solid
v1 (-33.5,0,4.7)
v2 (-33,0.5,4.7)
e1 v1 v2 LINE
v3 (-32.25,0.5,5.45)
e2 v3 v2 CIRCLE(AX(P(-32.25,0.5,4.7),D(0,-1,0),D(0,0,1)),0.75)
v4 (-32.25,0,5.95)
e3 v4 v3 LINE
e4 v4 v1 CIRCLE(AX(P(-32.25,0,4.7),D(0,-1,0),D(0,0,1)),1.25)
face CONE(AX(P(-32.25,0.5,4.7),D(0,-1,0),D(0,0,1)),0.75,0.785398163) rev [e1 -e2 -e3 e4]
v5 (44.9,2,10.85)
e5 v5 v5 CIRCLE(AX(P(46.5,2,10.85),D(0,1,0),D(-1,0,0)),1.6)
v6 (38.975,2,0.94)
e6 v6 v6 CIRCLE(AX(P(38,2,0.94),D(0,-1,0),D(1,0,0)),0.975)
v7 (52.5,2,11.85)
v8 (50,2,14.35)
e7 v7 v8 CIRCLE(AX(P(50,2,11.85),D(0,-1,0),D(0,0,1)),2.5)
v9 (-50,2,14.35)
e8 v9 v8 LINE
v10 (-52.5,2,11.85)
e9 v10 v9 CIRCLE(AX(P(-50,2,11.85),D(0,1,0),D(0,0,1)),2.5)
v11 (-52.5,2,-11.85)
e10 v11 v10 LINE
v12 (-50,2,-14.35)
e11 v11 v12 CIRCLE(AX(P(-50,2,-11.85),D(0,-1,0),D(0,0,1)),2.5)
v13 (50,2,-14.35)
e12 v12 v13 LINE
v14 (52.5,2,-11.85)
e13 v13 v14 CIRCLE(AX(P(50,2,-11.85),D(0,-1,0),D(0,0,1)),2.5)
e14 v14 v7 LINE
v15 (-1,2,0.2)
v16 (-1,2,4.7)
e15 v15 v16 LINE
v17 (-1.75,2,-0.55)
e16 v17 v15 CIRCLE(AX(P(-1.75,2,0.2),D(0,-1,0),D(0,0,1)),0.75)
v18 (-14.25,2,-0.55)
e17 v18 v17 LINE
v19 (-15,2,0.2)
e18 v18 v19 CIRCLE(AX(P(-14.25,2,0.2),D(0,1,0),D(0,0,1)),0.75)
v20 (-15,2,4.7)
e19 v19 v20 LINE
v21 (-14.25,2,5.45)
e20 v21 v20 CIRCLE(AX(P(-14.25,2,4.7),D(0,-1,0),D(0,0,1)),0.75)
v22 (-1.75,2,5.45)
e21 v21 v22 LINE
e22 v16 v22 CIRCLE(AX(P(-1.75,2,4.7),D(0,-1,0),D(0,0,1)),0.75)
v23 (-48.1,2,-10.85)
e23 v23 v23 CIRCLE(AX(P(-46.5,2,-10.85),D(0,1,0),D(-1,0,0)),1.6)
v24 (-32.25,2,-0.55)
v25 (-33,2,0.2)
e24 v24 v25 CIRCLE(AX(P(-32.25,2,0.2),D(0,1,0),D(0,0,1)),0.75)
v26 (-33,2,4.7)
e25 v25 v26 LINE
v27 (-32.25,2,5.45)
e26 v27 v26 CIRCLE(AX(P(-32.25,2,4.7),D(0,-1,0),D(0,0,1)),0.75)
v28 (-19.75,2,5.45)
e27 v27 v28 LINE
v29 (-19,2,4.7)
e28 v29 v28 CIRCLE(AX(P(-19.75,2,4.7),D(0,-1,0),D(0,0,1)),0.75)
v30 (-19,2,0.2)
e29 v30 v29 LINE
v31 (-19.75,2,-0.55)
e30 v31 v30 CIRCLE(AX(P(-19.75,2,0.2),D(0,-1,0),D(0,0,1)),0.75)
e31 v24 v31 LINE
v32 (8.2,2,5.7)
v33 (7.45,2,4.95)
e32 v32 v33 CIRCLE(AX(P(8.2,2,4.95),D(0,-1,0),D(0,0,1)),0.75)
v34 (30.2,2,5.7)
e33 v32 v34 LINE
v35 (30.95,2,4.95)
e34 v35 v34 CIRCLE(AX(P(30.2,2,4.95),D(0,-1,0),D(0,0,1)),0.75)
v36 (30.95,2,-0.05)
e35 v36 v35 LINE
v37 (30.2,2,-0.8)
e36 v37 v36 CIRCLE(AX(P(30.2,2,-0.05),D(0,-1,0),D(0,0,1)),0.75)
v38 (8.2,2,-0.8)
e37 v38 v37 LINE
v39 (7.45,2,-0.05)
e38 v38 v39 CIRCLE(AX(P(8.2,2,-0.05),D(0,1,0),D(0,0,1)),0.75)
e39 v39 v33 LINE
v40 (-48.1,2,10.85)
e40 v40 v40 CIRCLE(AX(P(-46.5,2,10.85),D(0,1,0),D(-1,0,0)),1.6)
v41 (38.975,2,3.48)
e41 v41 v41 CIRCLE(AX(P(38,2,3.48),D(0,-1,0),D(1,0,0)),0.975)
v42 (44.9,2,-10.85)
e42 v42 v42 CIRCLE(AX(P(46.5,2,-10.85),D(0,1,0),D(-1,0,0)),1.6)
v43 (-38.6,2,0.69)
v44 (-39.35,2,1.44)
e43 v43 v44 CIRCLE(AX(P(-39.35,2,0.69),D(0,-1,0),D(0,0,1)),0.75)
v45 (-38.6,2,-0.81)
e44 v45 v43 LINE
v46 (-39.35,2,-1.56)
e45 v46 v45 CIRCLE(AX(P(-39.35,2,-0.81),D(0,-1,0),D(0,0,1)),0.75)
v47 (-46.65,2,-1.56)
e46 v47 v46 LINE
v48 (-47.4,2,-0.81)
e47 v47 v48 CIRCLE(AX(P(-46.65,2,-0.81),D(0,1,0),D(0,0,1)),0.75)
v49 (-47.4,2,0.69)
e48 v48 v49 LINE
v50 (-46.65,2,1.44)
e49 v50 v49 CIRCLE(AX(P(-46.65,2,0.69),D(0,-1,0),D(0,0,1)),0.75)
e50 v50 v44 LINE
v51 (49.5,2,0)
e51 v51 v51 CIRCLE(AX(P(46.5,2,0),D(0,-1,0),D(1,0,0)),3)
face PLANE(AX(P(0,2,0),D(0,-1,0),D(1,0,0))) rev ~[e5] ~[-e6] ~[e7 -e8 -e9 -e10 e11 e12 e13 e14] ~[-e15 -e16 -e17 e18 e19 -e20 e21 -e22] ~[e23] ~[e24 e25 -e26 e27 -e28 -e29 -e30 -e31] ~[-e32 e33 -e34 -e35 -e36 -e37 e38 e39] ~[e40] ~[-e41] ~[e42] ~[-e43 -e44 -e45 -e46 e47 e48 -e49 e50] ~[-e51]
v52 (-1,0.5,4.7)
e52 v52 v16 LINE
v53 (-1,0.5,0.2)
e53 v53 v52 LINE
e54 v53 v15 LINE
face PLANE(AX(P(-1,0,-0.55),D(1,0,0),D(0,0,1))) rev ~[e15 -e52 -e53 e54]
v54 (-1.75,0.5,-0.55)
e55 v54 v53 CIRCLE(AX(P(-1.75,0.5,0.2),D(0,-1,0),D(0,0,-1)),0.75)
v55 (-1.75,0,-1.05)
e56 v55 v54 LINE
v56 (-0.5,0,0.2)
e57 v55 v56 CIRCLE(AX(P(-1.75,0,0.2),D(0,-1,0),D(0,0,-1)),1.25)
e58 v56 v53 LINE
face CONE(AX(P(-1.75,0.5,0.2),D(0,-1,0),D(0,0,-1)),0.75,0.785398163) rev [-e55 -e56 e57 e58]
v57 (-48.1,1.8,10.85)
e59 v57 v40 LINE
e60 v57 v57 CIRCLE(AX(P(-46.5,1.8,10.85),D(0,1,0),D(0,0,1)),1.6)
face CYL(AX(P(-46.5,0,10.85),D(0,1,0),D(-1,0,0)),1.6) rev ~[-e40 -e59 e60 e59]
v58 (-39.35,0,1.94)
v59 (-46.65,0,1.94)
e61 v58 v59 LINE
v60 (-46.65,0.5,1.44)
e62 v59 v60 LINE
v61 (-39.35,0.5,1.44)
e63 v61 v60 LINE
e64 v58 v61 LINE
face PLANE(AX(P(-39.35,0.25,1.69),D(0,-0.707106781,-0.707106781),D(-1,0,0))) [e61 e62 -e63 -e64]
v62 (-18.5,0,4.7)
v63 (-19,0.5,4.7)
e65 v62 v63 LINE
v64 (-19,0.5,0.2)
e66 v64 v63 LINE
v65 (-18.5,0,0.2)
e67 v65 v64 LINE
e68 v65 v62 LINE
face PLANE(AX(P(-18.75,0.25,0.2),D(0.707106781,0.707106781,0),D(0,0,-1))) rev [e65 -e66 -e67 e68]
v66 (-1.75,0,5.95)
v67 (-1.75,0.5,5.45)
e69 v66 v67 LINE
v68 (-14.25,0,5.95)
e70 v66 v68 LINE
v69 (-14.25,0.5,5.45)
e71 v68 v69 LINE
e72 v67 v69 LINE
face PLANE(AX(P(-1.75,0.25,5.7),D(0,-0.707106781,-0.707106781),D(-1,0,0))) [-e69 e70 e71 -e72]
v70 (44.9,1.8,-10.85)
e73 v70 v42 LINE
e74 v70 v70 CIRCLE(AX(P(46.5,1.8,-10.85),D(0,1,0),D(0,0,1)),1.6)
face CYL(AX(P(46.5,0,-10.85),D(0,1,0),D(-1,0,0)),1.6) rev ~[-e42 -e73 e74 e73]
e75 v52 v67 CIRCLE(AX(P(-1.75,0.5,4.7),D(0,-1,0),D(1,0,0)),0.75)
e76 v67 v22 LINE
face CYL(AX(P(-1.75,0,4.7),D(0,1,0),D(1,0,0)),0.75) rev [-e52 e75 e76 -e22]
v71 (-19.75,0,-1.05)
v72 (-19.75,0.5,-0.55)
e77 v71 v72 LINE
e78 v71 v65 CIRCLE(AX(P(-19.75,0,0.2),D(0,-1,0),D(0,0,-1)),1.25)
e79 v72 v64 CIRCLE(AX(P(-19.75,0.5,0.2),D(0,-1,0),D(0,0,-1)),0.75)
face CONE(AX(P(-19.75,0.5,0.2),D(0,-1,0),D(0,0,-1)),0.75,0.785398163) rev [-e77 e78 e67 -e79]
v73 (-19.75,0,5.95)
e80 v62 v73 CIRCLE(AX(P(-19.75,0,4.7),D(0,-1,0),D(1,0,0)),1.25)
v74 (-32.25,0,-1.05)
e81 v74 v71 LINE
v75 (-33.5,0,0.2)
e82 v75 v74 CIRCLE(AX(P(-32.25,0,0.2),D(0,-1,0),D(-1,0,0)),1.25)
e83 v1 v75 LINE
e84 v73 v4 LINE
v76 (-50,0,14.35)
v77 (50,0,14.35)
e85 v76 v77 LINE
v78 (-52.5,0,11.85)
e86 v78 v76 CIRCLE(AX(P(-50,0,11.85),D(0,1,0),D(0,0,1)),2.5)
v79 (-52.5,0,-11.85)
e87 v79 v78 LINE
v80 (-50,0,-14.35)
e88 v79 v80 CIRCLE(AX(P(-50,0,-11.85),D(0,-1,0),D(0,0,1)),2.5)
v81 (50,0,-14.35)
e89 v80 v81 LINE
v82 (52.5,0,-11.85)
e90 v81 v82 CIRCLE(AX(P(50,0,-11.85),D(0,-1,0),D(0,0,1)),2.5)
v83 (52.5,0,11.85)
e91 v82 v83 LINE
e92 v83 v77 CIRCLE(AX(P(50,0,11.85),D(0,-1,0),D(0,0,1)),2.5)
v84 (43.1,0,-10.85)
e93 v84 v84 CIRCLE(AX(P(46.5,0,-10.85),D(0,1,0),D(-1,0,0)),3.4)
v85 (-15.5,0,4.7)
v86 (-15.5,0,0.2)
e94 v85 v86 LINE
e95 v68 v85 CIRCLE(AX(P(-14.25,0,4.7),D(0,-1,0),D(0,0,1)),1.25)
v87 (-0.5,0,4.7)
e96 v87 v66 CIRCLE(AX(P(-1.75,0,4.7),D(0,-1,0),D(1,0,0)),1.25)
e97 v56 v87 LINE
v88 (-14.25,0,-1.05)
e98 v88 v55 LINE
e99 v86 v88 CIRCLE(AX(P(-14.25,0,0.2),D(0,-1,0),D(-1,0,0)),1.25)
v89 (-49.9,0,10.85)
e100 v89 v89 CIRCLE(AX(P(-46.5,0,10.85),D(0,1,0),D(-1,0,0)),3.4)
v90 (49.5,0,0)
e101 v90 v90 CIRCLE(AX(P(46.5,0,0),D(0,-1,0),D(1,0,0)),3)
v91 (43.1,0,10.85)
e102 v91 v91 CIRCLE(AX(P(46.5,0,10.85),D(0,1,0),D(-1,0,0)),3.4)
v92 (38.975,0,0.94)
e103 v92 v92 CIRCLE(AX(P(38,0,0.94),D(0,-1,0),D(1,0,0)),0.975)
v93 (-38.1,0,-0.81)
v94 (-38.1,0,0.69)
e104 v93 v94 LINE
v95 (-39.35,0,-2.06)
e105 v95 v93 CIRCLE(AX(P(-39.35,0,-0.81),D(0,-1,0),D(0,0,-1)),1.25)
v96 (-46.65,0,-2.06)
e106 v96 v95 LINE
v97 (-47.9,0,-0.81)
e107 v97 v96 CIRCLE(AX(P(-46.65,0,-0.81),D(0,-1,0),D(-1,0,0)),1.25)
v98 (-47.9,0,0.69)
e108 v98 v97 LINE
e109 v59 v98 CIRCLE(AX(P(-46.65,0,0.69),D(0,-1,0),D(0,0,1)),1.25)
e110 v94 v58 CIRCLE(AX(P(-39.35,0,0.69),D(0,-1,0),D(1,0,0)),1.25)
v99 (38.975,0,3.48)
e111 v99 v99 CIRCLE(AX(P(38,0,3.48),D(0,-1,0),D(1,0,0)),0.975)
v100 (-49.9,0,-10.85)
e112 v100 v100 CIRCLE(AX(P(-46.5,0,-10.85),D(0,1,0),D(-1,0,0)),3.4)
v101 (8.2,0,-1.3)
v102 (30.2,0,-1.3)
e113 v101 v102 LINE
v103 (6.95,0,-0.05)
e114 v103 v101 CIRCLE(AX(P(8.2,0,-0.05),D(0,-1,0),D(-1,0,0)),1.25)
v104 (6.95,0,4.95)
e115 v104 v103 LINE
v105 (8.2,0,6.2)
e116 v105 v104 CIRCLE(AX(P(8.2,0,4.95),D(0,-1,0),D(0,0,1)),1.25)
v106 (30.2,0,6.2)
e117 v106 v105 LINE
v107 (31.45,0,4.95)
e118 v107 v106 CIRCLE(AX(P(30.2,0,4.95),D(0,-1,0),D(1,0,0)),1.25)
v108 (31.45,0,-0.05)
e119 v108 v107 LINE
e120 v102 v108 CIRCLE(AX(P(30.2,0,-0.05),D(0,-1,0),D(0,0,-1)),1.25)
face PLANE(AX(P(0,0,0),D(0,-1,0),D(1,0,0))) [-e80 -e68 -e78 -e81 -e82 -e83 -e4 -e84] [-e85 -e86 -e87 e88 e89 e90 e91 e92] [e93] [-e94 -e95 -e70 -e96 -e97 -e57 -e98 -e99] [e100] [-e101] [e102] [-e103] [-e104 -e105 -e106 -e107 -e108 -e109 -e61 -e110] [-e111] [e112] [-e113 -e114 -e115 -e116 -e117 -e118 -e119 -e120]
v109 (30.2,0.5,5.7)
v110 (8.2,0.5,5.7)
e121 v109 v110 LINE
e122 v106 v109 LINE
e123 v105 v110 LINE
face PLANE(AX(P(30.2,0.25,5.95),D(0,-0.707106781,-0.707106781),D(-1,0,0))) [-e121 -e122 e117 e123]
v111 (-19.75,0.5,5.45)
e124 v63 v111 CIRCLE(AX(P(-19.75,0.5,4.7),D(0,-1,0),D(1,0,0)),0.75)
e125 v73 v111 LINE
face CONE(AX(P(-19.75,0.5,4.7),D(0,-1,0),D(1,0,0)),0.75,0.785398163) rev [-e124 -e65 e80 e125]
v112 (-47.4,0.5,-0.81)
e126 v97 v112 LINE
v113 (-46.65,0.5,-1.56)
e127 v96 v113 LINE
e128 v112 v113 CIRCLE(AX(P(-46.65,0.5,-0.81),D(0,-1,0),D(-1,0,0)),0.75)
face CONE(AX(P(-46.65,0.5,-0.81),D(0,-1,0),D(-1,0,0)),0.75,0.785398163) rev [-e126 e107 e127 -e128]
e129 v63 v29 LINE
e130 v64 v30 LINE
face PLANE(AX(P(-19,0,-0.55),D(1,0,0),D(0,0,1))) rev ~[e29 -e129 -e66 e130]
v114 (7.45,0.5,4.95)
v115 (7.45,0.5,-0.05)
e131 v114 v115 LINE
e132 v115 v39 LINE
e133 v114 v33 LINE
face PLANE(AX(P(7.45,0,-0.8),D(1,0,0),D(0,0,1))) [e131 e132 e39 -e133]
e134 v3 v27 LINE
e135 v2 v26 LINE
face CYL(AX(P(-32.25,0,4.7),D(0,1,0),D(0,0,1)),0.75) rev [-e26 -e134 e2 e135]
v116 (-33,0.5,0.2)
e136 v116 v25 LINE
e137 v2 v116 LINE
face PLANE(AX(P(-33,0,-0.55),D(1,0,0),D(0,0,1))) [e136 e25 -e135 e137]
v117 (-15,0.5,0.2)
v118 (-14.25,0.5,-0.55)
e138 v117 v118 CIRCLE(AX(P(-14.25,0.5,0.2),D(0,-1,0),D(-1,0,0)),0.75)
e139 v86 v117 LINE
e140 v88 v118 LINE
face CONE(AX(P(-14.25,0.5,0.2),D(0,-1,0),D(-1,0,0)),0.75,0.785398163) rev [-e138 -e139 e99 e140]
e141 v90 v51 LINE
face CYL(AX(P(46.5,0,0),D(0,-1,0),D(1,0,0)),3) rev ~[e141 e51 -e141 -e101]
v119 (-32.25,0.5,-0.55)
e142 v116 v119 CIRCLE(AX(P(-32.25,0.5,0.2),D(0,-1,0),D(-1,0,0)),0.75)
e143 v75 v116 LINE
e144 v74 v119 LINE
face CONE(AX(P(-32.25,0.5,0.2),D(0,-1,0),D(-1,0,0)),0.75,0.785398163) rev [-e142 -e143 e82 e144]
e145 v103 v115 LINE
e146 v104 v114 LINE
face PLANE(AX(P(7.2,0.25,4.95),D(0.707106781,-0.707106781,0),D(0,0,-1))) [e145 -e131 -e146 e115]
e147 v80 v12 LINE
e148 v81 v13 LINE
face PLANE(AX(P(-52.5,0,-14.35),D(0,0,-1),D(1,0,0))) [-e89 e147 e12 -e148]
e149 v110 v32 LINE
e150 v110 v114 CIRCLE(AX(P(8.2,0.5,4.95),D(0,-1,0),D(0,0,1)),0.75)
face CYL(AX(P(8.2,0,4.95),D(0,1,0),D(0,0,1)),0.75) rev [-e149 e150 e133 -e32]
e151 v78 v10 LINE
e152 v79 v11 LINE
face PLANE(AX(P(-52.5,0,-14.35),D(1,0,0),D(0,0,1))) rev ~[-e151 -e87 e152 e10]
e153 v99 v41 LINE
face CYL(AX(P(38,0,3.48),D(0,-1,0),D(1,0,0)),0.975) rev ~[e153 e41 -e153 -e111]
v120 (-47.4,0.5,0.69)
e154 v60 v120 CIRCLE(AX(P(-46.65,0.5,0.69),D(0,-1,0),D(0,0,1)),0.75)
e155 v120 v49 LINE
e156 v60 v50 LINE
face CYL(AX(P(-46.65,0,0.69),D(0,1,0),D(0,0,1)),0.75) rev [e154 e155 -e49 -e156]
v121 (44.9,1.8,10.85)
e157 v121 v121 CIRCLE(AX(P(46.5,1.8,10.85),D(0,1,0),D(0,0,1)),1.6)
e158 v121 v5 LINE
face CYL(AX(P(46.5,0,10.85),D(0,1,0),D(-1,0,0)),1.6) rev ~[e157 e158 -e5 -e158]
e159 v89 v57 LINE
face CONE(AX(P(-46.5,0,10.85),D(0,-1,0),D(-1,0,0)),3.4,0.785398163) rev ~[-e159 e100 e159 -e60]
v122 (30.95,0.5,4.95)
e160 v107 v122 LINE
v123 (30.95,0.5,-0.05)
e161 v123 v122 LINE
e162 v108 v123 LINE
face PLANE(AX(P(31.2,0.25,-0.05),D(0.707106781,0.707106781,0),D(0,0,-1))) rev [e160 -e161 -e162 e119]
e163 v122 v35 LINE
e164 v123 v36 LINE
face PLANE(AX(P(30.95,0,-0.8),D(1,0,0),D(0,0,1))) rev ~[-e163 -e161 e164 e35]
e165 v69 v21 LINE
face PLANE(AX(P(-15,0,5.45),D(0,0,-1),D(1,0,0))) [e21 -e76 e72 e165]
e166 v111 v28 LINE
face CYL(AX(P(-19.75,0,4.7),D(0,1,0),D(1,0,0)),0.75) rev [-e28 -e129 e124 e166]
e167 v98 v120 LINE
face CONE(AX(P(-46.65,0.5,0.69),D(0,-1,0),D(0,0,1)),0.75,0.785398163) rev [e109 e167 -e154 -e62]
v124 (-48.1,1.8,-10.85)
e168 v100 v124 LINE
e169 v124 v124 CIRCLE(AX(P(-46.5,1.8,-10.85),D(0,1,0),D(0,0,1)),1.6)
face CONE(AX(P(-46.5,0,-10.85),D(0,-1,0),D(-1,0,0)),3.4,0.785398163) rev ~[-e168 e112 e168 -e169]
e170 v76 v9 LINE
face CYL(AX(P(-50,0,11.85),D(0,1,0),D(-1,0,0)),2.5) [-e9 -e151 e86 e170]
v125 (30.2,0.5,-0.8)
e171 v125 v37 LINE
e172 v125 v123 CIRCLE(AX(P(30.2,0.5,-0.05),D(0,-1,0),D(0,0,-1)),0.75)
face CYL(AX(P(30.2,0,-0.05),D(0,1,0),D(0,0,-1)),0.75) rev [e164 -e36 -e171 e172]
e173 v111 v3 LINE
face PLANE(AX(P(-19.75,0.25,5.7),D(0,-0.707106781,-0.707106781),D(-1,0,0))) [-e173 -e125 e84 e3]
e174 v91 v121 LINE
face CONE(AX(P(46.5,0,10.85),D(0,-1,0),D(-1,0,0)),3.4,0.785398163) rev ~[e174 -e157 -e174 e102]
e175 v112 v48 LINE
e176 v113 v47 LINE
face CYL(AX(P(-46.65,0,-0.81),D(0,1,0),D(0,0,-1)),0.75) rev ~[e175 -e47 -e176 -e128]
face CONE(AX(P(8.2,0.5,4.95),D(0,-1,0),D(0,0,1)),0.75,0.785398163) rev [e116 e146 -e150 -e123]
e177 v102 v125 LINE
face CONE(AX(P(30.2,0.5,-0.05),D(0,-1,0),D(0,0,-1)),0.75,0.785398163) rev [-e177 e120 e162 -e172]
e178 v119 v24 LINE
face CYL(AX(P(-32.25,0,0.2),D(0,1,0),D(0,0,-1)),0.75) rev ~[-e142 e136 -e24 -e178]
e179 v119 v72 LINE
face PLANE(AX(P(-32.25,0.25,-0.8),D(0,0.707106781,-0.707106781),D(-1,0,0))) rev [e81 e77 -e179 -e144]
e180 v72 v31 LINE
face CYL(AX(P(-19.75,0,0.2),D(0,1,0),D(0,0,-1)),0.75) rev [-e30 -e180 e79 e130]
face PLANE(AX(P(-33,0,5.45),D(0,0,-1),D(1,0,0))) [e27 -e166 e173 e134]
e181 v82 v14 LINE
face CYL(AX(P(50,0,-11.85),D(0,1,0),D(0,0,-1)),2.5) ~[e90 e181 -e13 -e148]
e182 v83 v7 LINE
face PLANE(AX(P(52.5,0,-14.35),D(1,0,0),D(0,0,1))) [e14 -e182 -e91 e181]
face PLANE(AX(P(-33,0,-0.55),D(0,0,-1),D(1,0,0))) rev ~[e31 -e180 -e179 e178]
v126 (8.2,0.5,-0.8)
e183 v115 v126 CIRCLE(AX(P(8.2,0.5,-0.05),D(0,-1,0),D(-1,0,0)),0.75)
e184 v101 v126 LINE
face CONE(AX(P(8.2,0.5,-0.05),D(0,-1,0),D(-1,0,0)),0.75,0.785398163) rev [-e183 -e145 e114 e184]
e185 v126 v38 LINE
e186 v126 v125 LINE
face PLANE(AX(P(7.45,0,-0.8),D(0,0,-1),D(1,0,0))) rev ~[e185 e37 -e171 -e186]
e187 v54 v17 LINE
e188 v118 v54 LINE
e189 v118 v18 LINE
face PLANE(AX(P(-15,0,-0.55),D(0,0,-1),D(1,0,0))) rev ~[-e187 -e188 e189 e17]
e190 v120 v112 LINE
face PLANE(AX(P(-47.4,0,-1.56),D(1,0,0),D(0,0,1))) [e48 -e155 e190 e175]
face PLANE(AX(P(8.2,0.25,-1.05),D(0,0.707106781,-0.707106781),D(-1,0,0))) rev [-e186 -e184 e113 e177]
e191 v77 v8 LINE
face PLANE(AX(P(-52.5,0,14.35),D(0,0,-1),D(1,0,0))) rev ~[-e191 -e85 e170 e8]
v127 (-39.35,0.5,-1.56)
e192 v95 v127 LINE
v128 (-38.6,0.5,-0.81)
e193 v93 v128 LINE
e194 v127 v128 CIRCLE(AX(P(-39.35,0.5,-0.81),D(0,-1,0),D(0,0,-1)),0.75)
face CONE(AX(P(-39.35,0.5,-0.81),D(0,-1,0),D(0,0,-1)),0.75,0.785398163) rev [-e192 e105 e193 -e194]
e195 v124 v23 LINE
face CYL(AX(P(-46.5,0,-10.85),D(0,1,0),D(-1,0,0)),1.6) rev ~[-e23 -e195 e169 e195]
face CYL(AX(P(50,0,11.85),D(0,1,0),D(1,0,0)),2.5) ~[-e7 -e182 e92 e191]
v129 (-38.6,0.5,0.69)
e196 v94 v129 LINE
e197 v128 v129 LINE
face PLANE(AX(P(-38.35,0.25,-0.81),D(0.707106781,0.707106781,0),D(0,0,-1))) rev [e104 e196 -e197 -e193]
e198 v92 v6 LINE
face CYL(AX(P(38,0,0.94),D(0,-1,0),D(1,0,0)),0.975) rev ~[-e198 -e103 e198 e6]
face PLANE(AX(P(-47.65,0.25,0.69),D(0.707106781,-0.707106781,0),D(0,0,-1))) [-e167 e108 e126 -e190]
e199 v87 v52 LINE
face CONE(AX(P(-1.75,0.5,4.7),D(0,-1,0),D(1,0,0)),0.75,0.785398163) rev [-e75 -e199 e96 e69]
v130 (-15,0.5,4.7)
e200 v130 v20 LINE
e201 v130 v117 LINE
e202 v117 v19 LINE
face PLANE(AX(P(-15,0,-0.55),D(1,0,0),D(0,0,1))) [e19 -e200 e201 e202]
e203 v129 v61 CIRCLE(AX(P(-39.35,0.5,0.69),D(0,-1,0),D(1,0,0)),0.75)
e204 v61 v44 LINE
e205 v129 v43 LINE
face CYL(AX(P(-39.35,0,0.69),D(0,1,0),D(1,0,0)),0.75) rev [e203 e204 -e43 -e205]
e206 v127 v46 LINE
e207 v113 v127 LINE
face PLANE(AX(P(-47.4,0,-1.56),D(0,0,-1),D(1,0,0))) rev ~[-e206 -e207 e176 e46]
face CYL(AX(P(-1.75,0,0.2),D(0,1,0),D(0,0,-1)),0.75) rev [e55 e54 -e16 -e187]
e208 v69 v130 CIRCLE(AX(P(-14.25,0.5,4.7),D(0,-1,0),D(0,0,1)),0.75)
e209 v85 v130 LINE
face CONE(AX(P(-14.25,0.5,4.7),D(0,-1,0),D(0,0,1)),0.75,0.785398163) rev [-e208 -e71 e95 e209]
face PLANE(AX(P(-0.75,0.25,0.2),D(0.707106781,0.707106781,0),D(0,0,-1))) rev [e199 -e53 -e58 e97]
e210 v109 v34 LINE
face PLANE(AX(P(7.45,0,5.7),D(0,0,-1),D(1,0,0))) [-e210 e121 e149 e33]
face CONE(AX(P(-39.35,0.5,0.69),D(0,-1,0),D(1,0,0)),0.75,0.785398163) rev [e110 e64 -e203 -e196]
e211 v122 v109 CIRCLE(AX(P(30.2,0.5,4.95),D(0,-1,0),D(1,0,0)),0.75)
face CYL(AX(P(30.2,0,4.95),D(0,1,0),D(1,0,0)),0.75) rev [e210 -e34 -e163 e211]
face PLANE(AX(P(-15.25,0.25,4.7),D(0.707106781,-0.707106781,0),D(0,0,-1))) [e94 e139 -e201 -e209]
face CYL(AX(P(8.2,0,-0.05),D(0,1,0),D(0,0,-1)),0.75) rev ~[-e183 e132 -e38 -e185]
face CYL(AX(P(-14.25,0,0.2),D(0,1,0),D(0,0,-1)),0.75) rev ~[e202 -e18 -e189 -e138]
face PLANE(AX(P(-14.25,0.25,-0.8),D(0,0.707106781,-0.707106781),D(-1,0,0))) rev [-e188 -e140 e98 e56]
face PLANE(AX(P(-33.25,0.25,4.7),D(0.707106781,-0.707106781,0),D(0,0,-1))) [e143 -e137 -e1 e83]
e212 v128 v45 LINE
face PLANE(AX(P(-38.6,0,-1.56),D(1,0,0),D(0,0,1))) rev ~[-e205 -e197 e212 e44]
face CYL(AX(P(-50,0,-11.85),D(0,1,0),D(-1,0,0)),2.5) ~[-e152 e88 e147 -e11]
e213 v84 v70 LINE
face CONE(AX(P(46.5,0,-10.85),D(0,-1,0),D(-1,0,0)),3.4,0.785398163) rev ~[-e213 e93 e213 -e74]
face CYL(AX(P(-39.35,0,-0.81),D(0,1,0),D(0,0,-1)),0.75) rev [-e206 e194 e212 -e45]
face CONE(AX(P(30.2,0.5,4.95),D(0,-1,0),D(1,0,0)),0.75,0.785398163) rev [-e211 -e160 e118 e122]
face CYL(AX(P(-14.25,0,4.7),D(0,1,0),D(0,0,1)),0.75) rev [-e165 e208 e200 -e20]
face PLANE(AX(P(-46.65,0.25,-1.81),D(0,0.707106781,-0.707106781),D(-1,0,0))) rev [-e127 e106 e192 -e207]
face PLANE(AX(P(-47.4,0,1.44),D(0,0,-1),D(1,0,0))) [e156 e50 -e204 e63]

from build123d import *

# Parameters (mm, degrees)
SKETCH_W         = 105
SKETCH_H         = 28.7
PAD_DEPTH        = 2
FILLET_R         = 2.5
HOLE_D           = 3.2
HOLE_DEPTH       = 25
HOLE_CSINK_D     = 6.8
HOLE_CSINK_ANGLE = 90
SKETCH002_W      = 8.8
SKETCH002_H      = 3
SKETCH002_W_2    = 14
SKETCH002_H_2    = 6
SKETCH002_W_3    = 23.5
SKETCH002_H_3    = 6.5
POCKET_DEPTH     = 2.001
FILLET001_R      = 0.75
CHAMFER_SIZE     = 0.5
SKETCH003_R      = 0.975
HOLE001_DEPTH    = 25
SKETCH004_R      = 3
HOLE002_DEPTH    = 25


with BuildPart() as part:
    # Sketch → Pad (new body)
    with BuildSketch(Plane.XZ):
        Rectangle(SKETCH_W, SKETCH_H)
    extrude(amount=-PAD_DEPTH)

    # Fillet
    fillet_edges = [part.edges().sort_by_distance(p)[0] for p in [
        (52.5, 1, 14.35),
        (52.5, 1, -14.35),
        (-52.5, 1, 14.35),
        (-52.5, 1, -14.35),
    ]]
    fillet(fillet_edges, radius=FILLET_R)

    # Hole
    with Locations(Plane.XZ):
        with Locations((46.5, 10.85), (46.5, -10.85), (-46.5, -10.85), (-46.5, 10.85)):
            CounterSinkHole(HOLE_D / 2, HOLE_CSINK_D / 2, depth=HOLE_DEPTH, counter_sink_angle=HOLE_CSINK_ANGLE)

    # Sketch002 → Pocket (cut, through all)
    with BuildSketch(Plane.XZ):
        with Locations((-43, -0.06)):
            Rectangle(SKETCH002_W, SKETCH002_H)
        with Locations((-26, 2.45)):
            Rectangle(SKETCH002_W_2, SKETCH002_H_2)
        with Locations((-8, 2.45)):
            Rectangle(SKETCH002_W_2, SKETCH002_H_2)
        with Locations((19.2, 2.45)):
            Rectangle(SKETCH002_W_3, SKETCH002_H_3)
    extrude(amount=-POCKET_DEPTH, mode=Mode.SUBTRACT)

    # Fillet001
    fillet001_edges = [part.edges().sort_by_distance(p)[0] for p in [
        (-19, 1, -0.55),
        (-1, 1, -0.55),
        (30.95, 1, -0.8),
        (-33, 1, -0.55),
        (-47.4, 1, -1.56),
        (-15, 1, -0.55),
        (7.45, 1, -0.8),
        (-38.6, 1, -1.56),
        (-47.4, 1, 1.44),
        (-33, 1, 5.45),
        (-15, 1, 5.45),
        (7.45, 1, 5.7),
        (30.95, 1, 5.7),
        (-1, 1, 5.45),
        (-19, 1, 5.45),
        (-38.6, 1, 1.44),
    ]]
    fillet(fillet001_edges, radius=FILLET001_R)

    # Chamfer
    chamfer_edges = [part.edges().sort_by_distance(p)[0] for p in [
        (19.2, 0, -0.8),
        (-8, 0, -0.55),
        (-26, 0, -0.55),
        (-43, 0, -1.56),
    ]]
    chamfer(chamfer_edges, length=CHAMFER_SIZE)

    # Sketch003 → Hole001 (cut)
    with BuildSketch(Plane.XZ):
        with Locations((38, 0.94)):
            Circle(SKETCH003_R)
        with Locations((38, 3.48)):
            Circle(SKETCH003_R)
    extrude(amount=-HOLE001_DEPTH, mode=Mode.SUBTRACT)

    # Sketch004 → Hole002 (cut)
    with BuildSketch(Plane.XZ):
        with Locations((46.5, 0)):
            Circle(SKETCH004_R)
    extrude(amount=-HOLE002_DEPTH, mode=Mode.SUBTRACT)


solid = part.part
